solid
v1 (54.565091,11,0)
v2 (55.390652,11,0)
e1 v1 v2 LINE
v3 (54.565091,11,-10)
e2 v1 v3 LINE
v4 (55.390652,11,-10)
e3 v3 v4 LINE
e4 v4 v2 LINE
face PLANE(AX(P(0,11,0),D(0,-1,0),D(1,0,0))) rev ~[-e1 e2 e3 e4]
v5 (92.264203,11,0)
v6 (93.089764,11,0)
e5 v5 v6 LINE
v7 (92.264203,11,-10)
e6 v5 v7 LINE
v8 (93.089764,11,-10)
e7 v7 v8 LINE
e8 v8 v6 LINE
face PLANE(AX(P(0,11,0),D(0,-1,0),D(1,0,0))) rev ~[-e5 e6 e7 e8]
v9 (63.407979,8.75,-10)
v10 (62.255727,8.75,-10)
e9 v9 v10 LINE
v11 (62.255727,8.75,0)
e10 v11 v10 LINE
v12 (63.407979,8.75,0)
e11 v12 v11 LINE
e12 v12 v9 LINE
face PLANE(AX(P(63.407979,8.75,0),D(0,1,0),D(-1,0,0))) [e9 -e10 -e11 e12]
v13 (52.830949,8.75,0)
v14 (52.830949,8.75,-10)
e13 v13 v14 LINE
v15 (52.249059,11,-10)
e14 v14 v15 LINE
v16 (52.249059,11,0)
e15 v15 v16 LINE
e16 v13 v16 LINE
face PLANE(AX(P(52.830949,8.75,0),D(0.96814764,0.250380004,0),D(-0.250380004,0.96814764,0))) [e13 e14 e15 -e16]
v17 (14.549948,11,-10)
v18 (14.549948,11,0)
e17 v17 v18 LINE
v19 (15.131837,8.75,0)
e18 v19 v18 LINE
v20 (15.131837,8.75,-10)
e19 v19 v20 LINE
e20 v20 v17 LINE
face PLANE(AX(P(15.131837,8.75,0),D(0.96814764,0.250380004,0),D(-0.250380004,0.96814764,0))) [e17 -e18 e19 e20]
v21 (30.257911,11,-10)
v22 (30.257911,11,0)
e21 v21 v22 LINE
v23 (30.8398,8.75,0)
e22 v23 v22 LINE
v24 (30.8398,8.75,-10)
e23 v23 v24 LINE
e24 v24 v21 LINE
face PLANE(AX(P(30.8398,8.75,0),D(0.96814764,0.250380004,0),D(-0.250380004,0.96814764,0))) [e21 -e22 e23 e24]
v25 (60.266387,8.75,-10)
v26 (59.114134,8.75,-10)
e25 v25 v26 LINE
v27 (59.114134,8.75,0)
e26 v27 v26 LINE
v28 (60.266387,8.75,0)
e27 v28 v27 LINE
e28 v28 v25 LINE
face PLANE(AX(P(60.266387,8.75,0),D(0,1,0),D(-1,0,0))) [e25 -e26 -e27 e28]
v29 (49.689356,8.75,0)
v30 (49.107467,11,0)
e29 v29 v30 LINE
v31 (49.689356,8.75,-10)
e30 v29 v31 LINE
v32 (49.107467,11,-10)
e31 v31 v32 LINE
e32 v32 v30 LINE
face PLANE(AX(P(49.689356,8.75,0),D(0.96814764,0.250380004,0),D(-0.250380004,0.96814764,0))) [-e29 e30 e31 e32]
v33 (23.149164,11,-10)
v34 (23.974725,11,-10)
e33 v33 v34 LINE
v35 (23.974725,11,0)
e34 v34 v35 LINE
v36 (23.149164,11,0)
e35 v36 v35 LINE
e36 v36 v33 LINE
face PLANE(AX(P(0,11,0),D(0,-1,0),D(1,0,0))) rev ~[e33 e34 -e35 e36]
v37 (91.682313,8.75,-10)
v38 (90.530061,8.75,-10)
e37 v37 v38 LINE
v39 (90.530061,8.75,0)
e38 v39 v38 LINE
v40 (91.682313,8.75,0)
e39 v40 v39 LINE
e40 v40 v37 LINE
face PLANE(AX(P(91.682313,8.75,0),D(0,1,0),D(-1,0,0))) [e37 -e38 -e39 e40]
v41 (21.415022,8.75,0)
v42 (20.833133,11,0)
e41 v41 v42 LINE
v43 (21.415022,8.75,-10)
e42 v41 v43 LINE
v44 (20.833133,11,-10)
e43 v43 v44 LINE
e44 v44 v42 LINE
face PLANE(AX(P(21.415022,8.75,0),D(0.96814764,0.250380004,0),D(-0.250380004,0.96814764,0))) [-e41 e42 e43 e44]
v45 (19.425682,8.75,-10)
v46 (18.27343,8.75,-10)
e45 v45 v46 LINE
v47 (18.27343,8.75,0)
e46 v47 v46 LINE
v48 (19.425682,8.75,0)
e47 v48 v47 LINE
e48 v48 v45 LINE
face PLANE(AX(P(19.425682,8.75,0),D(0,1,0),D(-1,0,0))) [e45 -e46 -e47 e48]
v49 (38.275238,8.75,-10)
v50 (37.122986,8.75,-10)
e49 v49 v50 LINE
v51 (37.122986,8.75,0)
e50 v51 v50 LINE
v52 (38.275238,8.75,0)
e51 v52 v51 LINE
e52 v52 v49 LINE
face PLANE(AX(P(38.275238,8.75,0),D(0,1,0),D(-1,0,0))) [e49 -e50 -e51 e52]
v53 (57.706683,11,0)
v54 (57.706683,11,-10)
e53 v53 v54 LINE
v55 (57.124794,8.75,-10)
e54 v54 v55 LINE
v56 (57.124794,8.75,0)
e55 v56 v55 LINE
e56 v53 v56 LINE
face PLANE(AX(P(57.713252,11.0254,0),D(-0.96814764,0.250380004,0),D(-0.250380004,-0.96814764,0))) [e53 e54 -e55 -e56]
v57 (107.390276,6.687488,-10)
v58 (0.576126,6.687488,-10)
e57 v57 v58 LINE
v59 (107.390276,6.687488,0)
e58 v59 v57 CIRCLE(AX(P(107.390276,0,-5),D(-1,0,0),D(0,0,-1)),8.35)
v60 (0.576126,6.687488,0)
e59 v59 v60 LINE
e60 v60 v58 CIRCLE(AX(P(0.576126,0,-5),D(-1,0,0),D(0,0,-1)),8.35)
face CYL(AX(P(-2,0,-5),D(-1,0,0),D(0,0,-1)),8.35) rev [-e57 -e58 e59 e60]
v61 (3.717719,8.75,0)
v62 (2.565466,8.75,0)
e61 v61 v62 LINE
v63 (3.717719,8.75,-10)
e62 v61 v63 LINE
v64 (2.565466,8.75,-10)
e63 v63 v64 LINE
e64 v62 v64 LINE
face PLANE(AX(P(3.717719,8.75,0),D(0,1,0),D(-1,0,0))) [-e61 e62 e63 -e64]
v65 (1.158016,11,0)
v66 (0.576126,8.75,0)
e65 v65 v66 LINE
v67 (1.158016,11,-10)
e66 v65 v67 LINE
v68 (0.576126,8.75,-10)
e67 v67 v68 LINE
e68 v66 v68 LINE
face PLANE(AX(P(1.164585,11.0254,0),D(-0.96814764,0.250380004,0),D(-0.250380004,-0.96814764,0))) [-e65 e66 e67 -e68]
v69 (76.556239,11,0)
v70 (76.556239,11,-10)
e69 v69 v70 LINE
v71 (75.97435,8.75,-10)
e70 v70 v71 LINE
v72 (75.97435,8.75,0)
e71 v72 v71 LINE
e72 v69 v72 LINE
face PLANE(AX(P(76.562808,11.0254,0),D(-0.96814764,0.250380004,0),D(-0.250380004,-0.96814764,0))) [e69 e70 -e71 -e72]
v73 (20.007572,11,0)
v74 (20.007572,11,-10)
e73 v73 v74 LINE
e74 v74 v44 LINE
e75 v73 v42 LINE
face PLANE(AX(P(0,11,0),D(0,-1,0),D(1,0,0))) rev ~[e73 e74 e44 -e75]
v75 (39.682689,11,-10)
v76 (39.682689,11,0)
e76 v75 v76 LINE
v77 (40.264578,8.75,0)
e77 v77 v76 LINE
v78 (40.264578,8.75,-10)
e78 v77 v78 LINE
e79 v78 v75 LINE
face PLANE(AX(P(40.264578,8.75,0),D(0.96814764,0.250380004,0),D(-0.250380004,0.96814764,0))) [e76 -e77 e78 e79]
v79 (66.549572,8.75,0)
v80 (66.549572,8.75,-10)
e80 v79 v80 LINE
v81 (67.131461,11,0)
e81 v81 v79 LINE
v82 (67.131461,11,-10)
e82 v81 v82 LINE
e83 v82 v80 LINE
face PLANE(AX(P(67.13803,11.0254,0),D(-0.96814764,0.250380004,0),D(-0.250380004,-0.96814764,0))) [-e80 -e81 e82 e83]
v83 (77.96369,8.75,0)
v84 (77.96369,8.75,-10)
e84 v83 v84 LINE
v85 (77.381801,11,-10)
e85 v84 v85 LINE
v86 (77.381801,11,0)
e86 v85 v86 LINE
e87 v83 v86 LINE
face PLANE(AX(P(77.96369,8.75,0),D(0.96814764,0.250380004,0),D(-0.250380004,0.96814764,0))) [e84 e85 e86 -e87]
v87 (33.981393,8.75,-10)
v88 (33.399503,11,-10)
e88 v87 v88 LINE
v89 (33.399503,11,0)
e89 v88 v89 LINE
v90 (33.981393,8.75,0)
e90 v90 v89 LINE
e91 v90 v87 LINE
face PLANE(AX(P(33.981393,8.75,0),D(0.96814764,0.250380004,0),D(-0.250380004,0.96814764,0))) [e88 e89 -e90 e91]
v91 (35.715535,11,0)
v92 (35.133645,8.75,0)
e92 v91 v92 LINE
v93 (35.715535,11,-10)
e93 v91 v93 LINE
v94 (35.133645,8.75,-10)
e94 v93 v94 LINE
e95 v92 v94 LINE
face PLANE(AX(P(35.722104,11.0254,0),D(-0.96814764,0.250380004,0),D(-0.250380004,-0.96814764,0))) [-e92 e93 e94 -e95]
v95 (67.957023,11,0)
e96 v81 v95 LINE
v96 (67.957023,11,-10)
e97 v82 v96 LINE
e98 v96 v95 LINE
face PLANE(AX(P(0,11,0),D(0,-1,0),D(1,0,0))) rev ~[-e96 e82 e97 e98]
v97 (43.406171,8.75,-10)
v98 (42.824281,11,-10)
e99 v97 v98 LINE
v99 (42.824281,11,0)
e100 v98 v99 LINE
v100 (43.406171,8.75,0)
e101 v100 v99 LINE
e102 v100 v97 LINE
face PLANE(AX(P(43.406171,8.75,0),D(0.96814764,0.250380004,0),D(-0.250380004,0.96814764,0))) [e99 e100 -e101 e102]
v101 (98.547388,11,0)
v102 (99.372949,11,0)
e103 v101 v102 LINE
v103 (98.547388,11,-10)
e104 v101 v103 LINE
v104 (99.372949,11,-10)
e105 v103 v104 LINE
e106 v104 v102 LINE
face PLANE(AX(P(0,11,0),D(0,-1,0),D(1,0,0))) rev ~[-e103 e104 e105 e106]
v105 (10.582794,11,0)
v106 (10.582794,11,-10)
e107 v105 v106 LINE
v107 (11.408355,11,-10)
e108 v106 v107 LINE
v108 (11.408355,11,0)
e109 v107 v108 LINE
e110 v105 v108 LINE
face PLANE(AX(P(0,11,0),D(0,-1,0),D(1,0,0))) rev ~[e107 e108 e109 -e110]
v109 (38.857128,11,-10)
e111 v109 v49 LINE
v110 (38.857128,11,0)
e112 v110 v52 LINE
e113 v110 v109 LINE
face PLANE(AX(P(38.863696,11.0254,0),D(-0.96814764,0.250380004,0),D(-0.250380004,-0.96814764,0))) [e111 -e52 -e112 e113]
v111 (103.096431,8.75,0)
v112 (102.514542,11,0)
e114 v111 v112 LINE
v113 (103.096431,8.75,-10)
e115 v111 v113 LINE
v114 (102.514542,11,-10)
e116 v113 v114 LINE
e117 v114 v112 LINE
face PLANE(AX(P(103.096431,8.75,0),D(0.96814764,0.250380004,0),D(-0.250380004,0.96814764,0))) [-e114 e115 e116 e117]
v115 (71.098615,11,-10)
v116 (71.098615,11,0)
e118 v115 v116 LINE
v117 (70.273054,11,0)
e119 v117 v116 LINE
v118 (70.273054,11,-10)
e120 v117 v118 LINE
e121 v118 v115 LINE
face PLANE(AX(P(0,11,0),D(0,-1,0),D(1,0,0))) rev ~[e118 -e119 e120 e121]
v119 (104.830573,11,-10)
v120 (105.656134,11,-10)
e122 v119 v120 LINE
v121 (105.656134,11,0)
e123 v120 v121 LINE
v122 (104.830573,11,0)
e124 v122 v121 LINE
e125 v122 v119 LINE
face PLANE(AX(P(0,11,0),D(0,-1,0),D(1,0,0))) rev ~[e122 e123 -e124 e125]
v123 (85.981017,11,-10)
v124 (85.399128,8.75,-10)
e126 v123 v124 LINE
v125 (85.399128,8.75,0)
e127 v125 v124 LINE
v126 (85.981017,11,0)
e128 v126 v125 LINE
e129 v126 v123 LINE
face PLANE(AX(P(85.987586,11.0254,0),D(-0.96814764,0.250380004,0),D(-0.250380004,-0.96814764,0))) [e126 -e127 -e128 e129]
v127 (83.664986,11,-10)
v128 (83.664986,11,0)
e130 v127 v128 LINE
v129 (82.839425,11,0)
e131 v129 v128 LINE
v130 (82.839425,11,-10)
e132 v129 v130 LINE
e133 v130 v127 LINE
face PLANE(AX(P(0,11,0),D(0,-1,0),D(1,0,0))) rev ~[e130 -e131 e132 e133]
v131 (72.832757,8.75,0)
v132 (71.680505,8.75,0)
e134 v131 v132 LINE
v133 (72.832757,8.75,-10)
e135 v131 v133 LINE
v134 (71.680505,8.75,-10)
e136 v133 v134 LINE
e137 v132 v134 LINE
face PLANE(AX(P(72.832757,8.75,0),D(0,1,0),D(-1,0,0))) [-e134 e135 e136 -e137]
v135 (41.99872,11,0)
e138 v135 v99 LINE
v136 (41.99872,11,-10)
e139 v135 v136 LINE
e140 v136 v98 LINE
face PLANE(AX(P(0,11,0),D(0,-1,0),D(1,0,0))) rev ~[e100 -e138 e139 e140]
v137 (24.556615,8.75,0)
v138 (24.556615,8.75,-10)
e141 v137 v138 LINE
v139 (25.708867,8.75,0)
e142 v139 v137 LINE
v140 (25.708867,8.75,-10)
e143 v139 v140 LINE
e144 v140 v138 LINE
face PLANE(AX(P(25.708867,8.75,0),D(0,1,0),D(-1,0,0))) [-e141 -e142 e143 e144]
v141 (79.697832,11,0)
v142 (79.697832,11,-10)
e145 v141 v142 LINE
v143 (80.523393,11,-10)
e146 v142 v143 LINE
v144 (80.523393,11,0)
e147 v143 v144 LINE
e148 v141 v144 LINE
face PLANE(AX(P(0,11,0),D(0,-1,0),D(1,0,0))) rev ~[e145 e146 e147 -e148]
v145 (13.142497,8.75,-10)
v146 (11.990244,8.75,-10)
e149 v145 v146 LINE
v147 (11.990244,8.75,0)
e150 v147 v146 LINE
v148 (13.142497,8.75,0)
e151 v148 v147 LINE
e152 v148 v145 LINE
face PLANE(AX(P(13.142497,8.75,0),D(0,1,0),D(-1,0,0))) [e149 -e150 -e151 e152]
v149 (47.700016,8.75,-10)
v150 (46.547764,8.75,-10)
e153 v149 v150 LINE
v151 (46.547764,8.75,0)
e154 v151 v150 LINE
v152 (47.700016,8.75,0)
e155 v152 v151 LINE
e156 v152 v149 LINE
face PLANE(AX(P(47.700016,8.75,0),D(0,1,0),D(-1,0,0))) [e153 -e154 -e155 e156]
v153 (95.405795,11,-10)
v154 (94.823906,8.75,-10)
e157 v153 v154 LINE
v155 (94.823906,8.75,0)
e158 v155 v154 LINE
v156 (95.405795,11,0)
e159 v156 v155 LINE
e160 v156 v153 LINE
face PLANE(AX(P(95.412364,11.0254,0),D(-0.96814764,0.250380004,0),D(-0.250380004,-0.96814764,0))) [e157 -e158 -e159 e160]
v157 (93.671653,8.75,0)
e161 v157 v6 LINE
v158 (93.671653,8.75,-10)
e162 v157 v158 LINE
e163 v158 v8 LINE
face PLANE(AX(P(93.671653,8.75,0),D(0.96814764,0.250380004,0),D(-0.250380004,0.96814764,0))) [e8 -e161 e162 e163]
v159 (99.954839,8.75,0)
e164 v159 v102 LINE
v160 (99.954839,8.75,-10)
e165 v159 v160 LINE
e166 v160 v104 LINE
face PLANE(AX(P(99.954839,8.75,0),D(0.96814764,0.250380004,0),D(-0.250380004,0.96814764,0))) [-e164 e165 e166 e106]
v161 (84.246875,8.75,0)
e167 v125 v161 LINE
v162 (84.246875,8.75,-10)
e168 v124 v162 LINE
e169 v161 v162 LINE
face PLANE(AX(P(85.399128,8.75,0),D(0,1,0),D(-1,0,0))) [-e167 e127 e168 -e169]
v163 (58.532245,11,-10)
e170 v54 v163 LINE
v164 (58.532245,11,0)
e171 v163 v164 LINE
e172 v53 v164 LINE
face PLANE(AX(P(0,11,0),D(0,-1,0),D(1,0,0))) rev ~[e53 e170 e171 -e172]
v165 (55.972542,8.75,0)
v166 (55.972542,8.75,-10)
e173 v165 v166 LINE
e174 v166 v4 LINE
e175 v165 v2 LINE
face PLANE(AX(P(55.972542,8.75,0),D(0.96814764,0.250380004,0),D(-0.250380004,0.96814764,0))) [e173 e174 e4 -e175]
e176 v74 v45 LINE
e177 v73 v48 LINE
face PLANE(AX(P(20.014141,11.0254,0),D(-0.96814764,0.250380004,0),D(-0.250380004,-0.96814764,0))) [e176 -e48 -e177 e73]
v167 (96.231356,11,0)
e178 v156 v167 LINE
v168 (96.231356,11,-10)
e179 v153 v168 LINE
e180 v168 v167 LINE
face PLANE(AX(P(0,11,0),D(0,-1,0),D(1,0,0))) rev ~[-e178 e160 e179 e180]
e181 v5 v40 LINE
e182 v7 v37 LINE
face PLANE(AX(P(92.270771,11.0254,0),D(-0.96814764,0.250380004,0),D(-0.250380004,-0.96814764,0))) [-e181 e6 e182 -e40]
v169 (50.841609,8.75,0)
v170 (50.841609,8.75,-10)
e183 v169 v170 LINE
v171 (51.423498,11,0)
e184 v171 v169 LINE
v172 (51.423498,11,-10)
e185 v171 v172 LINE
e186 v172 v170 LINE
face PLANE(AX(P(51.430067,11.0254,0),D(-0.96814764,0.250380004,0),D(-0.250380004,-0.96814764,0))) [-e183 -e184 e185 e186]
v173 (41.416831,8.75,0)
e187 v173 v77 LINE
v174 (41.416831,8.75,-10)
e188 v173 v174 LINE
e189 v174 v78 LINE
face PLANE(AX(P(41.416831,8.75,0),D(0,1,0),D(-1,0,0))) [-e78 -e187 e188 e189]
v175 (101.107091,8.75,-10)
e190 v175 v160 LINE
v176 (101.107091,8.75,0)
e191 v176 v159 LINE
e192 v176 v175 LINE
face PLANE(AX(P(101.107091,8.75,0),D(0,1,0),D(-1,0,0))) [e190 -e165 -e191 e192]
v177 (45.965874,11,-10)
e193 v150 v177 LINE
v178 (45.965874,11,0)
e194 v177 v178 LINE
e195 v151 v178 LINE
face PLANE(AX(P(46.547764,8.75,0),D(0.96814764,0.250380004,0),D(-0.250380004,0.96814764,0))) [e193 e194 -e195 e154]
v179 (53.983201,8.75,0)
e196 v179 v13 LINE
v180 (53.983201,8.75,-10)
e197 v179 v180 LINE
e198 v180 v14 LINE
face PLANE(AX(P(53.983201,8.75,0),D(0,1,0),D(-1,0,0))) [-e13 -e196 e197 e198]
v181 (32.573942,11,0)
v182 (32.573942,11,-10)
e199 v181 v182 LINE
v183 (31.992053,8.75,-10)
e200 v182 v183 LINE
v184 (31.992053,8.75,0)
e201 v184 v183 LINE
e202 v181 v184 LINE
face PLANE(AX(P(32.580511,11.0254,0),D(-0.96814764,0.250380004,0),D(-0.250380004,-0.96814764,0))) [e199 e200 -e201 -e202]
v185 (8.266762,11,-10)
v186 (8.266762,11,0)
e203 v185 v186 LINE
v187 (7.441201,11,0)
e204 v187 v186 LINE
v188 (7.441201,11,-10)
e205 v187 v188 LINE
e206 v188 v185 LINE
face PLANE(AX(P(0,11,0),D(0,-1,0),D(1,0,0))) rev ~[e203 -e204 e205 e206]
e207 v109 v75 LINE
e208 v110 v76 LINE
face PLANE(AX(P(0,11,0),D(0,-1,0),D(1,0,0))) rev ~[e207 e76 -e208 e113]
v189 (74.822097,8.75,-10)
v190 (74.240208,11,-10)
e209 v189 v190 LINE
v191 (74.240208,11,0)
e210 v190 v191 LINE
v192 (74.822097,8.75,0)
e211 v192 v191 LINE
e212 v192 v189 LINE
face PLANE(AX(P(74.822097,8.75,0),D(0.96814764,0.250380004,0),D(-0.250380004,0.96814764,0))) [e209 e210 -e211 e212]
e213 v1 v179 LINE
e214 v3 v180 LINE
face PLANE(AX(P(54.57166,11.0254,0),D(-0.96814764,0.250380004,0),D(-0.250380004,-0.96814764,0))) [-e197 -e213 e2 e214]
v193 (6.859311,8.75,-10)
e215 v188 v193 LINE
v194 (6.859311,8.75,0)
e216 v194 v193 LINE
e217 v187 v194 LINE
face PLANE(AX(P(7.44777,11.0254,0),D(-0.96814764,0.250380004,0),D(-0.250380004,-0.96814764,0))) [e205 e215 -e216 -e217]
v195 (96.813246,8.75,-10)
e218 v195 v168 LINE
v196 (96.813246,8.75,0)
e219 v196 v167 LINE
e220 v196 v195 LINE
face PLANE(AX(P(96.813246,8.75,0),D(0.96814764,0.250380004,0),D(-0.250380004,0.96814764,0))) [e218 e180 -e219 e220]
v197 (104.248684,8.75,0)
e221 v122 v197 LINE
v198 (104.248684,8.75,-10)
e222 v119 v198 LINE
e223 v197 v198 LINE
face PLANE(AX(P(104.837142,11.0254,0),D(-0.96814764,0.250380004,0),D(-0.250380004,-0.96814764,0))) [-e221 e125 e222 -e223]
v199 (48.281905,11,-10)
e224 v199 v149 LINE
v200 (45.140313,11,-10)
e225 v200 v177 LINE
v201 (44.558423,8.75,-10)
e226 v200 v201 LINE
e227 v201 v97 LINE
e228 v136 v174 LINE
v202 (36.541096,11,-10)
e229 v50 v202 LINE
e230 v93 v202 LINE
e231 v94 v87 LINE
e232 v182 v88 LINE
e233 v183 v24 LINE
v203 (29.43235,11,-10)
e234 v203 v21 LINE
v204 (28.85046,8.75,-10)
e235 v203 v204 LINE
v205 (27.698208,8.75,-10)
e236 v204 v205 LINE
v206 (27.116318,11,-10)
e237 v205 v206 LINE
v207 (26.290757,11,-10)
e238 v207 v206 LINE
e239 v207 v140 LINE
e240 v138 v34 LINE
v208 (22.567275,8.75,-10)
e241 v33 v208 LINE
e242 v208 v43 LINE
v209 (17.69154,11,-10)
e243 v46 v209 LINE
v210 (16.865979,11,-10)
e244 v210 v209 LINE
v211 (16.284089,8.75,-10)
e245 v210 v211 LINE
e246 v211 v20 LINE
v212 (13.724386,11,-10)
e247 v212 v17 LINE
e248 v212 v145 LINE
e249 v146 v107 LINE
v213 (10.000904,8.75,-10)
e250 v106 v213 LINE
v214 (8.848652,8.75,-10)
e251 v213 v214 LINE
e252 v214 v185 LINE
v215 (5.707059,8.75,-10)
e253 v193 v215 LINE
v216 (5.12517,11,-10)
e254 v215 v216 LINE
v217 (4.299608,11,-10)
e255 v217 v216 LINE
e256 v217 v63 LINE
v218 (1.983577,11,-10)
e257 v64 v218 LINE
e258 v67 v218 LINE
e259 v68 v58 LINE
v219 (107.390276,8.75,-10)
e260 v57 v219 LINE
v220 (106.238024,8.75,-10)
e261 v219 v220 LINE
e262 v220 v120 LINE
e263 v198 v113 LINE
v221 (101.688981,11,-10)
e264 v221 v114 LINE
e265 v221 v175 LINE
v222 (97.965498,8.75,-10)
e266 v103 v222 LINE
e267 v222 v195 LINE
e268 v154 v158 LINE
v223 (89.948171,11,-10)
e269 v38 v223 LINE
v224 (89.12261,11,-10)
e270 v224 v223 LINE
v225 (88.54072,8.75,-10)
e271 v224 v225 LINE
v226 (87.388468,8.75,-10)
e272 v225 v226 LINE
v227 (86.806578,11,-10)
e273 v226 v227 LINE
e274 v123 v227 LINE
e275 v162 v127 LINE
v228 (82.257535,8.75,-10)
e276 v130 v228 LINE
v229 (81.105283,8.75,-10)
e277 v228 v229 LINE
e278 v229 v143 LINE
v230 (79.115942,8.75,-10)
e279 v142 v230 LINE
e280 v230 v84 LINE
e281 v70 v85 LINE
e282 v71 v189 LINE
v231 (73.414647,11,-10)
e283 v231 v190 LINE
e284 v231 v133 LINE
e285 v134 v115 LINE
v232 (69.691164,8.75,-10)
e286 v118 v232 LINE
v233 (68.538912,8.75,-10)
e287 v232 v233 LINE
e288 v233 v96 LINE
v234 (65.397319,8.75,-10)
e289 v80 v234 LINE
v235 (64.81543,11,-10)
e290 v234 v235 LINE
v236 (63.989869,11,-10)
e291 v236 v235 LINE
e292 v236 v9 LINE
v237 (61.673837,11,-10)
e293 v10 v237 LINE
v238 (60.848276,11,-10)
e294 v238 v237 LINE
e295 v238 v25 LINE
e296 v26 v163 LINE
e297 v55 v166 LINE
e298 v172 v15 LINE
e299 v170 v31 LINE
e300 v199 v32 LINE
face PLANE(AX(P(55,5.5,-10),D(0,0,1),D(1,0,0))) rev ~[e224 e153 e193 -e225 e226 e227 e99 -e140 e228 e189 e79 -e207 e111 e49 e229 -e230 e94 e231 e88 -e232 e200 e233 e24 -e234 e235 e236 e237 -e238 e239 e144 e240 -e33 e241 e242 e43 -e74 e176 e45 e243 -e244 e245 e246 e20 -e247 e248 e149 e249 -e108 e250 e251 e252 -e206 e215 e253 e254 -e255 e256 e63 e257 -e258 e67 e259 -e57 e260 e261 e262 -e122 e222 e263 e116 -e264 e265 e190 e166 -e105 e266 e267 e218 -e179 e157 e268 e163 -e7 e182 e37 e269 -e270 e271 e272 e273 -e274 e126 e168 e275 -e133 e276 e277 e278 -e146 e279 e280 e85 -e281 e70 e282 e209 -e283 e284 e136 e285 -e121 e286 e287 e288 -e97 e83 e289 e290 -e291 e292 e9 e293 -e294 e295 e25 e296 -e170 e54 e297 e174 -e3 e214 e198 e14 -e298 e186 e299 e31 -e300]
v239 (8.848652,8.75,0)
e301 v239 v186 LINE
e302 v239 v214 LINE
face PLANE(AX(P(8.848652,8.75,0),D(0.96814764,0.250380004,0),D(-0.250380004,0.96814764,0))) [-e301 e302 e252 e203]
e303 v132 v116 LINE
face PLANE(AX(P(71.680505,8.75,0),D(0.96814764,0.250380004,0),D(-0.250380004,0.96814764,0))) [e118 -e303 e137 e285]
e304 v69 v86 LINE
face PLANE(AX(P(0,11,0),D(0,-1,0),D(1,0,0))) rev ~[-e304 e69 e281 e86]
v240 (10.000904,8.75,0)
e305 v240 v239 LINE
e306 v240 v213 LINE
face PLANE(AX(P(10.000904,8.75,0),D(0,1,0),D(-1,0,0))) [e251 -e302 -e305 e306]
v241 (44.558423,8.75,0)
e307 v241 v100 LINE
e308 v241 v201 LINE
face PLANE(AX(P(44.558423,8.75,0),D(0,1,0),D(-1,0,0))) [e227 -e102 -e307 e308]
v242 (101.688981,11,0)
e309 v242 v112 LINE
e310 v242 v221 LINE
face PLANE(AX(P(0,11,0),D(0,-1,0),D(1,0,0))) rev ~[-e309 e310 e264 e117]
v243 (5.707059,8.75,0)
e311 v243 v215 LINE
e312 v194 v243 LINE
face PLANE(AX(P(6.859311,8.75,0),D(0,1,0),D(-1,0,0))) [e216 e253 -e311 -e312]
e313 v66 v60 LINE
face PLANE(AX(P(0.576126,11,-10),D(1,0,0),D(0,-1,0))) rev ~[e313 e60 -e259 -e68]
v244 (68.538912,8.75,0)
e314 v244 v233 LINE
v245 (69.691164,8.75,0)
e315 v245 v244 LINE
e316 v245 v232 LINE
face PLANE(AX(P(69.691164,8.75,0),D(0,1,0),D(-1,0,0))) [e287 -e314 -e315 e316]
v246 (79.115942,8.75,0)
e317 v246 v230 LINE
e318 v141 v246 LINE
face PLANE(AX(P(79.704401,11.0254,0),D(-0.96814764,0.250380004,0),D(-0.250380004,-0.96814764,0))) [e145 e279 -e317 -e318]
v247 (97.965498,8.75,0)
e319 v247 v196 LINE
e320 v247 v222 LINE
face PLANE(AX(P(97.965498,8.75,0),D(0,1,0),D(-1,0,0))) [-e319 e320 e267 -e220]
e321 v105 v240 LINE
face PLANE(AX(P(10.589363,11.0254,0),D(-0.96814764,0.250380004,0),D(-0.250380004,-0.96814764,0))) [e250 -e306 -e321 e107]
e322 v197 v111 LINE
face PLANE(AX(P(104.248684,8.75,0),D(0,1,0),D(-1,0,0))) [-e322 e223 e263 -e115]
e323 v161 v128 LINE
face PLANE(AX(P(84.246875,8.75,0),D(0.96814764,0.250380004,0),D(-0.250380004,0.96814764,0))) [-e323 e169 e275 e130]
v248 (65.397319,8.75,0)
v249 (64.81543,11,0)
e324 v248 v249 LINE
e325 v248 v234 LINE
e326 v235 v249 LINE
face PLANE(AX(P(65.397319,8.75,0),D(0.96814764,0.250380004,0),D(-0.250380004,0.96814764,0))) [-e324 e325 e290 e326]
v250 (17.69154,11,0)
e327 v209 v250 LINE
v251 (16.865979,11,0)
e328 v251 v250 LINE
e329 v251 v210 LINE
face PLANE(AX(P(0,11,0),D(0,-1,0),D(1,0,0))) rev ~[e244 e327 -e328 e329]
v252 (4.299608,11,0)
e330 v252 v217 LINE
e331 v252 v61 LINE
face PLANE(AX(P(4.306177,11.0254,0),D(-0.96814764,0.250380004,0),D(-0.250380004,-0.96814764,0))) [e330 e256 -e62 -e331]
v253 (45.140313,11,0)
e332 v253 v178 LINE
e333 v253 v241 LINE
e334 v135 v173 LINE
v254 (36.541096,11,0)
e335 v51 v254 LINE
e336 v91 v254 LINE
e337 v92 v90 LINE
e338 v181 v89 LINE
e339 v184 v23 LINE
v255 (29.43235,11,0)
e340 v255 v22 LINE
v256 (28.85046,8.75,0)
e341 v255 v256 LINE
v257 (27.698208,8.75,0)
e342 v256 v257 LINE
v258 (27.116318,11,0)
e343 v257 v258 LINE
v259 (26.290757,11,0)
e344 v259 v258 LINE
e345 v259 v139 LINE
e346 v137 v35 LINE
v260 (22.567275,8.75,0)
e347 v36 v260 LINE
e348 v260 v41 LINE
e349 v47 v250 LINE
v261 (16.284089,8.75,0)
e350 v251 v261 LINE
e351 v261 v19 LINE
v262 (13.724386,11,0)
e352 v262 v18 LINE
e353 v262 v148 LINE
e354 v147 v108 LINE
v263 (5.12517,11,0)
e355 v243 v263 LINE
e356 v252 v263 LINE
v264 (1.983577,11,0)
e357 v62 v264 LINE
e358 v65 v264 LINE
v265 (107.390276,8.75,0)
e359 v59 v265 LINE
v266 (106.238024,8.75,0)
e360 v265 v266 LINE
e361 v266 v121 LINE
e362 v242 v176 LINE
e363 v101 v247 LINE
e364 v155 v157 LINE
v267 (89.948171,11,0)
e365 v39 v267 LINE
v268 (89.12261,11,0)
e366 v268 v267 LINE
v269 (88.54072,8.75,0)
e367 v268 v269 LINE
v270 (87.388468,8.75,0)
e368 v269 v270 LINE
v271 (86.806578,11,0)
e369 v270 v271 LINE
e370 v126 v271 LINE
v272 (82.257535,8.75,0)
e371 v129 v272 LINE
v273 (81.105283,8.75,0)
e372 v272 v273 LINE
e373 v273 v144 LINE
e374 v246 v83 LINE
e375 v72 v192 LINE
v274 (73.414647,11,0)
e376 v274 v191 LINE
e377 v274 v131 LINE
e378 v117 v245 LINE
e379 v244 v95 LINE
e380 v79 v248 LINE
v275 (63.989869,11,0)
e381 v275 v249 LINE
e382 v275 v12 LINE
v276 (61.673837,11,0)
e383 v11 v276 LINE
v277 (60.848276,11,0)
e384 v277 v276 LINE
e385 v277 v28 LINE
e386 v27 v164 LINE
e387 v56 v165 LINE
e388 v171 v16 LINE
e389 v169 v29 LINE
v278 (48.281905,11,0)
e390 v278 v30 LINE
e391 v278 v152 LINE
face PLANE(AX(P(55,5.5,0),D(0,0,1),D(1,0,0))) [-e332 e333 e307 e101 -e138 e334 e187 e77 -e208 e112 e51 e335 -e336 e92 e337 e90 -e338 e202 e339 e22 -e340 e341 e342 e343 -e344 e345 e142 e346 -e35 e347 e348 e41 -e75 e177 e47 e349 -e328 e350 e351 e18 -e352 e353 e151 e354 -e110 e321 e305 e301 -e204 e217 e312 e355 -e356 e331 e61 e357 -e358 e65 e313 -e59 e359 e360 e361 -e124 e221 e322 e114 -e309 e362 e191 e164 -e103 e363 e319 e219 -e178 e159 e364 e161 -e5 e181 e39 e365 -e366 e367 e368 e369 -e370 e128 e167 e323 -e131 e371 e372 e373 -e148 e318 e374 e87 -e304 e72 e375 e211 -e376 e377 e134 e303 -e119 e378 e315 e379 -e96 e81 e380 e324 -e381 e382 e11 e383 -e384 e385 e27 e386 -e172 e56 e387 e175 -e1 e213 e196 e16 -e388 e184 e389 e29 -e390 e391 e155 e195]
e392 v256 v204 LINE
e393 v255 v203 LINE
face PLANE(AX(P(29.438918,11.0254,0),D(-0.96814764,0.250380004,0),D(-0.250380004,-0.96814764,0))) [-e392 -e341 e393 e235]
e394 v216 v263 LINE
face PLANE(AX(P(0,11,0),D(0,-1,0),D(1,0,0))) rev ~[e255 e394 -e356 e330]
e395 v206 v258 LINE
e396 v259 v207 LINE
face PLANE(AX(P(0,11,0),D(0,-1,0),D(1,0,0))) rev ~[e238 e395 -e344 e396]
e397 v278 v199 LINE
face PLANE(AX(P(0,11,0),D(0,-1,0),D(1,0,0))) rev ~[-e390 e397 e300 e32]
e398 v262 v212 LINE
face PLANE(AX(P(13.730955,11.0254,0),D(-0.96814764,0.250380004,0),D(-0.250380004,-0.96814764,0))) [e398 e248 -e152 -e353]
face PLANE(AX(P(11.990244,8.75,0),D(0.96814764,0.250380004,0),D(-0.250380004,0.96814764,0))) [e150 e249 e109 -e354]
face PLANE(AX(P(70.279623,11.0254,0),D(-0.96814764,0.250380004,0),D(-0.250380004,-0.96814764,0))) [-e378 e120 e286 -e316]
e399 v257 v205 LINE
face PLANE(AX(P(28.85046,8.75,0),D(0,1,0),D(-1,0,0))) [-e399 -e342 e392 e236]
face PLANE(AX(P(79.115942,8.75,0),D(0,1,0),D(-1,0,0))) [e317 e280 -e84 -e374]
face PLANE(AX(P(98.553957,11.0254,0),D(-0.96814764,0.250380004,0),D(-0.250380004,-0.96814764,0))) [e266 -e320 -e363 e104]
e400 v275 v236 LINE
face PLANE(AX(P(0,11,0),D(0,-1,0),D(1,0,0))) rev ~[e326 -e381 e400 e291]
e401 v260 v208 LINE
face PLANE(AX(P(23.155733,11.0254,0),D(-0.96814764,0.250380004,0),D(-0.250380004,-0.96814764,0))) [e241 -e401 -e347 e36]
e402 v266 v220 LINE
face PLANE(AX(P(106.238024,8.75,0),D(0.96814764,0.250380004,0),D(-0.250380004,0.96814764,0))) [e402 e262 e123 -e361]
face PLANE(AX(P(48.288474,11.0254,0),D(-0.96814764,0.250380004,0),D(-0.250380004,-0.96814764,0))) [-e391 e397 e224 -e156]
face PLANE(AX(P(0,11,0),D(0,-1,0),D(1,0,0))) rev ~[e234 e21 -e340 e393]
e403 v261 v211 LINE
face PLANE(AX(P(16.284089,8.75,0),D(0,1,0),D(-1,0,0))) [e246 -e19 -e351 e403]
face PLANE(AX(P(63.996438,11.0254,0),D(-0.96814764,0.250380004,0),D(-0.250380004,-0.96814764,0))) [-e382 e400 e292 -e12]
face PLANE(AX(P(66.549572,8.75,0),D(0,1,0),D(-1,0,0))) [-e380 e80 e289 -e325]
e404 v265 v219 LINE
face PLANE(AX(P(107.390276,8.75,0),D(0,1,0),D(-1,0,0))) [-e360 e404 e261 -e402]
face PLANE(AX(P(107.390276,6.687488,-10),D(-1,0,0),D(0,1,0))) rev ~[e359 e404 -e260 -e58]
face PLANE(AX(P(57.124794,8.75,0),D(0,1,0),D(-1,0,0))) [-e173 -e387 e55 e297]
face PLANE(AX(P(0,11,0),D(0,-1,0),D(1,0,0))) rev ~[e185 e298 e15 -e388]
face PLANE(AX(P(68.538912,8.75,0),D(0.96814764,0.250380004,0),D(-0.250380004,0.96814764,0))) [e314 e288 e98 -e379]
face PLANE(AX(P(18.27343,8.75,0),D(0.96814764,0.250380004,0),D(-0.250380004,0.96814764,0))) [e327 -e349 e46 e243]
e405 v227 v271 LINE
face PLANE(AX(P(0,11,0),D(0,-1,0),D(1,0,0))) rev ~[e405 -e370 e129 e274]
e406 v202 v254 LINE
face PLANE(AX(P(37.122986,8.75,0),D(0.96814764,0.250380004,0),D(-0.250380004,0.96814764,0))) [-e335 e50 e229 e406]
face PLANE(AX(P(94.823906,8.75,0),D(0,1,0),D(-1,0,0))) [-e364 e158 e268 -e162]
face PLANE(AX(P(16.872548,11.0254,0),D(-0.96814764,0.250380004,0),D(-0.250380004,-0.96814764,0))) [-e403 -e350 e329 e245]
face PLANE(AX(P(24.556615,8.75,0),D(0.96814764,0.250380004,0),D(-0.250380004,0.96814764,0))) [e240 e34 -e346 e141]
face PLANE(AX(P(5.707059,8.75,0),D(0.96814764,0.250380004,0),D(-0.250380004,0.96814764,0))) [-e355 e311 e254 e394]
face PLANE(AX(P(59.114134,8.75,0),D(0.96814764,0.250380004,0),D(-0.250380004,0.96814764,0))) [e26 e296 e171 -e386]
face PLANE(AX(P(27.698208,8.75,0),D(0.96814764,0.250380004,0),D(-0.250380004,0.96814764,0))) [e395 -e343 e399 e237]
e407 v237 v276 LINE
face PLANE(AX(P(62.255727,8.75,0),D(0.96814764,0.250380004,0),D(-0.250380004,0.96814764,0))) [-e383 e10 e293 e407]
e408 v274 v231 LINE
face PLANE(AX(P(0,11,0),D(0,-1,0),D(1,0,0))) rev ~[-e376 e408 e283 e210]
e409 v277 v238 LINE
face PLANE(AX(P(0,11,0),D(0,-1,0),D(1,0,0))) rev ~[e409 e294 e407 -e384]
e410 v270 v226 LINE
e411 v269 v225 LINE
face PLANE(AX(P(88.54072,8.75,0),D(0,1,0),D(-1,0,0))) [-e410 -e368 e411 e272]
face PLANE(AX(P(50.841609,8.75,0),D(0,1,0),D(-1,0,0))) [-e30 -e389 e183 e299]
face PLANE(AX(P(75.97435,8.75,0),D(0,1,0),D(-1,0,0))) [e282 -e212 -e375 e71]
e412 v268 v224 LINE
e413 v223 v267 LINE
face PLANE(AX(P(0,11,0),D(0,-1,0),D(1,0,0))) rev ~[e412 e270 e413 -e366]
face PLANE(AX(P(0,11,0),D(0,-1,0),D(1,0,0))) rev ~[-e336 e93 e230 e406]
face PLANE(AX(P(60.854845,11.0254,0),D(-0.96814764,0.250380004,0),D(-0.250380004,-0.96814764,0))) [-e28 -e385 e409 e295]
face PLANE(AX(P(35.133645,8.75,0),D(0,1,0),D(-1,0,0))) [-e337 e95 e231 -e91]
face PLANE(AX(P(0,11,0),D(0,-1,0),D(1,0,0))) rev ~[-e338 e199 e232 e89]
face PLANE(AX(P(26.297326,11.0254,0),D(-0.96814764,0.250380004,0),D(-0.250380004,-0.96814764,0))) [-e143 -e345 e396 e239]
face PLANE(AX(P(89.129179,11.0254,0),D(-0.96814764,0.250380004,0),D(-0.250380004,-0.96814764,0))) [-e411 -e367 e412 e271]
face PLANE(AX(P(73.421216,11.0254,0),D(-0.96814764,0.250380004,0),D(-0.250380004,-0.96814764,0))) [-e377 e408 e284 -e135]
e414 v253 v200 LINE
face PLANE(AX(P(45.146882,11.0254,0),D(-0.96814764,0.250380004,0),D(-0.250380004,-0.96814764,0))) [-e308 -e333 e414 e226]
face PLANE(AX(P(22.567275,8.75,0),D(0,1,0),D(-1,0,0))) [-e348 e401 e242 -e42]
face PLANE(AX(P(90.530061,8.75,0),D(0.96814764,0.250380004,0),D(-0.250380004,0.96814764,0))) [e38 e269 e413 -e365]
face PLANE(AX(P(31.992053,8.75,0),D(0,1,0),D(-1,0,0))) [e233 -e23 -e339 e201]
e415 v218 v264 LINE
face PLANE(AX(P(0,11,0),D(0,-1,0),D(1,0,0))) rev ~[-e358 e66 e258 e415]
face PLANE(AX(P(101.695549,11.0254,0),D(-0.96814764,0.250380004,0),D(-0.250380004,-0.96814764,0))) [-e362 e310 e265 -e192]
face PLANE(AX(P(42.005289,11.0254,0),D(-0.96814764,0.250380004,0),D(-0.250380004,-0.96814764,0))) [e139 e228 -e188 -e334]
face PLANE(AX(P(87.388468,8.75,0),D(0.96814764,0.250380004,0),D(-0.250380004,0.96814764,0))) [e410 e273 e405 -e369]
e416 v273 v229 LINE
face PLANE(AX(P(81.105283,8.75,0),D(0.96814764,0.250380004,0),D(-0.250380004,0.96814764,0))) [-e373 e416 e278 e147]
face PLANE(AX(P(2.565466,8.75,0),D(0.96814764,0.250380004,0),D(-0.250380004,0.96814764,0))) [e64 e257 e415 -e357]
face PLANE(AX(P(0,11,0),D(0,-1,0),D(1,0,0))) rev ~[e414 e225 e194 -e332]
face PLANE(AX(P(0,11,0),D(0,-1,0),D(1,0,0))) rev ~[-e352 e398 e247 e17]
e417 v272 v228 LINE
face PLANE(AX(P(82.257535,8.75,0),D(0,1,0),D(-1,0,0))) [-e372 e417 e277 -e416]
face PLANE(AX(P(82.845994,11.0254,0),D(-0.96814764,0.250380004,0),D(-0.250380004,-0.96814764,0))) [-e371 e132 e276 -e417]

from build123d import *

# Parameters (mm, degrees)
BLANKSKE_W              = 110
BLANKSKE_H              = 11
BLANK_DEPTH             = 10
TOOTHCUTSIM_DEPTH       = 112
TEETHCUTS_COUNT         = 36
TEETHCUTS_PITCH         = 3.14159265
CUT_EXTRUDE1_DEPTH      = 112
CUT_EXTRUDE1_DEPTH_BACK = 112
SKETCH1_R               = 8.35
SKETCH3_W               = 2.609723718
SKETCH3_H               = 4.369414265
CUT_EXTRUDE2_DEPTH      = 10


with BuildPart() as part:
    # BlankSke → Blank (new body)
    with BuildSketch(Plane.XY):
        with Locations((55, 5.5)):
            Rectangle(BLANKSKE_W, BLANKSKE_H)
    extrude(amount=-BLANK_DEPTH)

    # TooCutSkeSim → ToothCutSim (cut, through all)
    with BuildSketch(Plane.XY):
        Polygon((0.576126182, 8.75), (-0.576126182, 8.75), (-1.164584633, 11.0254), (1.164584633, 11.0254), align=None)
    toothcutsim = extrude(amount=-TOOTHCUTSIM_DEPTH, mode=Mode.SUBTRACT)

    # TeethCuts: ToothCutSim ×36
    with Locations(*[(i * TEETHCUTS_PITCH, 0, 0) for i in range(1, TEETHCUTS_COUNT)]):
        add(toothcutsim, mode=Mode.SUBTRACT)

    # Sketch1 → Cut-Extrude1 (cut, two sides: drawn at the far end of the back side and taken through both)
    with BuildSketch(Plane(origin=(110, 0, 0), x_dir=(0, 0, -1), z_dir=(1, 0, 0)).offset(-CUT_EXTRUDE1_DEPTH_BACK)):
        with Locations((5, 0)):
            Circle(SKETCH1_R)
    extrude(amount=CUT_EXTRUDE1_DEPTH + CUT_EXTRUDE1_DEPTH_BACK, mode=Mode.SUBTRACT)

    # Sketch3 → Cut-Extrude2 (cut)
    with BuildSketch(Plane(origin=(0, 0, -10), x_dir=(-1, 0, 0), z_dir=(0, 0, -1))):
        with Locations((-108.695138141, 8.872195451)):
            Rectangle(SKETCH3_W, SKETCH3_H)
        Polygon((-0.576126182, 8.75), (-0.576126182, 11), (0, 11), (0, 6.687488318), (-0.576126182, 6.687488318), align=None)
    extrude(amount=-CUT_EXTRUDE2_DEPTH, mode=Mode.SUBTRACT)


solid = part.part
